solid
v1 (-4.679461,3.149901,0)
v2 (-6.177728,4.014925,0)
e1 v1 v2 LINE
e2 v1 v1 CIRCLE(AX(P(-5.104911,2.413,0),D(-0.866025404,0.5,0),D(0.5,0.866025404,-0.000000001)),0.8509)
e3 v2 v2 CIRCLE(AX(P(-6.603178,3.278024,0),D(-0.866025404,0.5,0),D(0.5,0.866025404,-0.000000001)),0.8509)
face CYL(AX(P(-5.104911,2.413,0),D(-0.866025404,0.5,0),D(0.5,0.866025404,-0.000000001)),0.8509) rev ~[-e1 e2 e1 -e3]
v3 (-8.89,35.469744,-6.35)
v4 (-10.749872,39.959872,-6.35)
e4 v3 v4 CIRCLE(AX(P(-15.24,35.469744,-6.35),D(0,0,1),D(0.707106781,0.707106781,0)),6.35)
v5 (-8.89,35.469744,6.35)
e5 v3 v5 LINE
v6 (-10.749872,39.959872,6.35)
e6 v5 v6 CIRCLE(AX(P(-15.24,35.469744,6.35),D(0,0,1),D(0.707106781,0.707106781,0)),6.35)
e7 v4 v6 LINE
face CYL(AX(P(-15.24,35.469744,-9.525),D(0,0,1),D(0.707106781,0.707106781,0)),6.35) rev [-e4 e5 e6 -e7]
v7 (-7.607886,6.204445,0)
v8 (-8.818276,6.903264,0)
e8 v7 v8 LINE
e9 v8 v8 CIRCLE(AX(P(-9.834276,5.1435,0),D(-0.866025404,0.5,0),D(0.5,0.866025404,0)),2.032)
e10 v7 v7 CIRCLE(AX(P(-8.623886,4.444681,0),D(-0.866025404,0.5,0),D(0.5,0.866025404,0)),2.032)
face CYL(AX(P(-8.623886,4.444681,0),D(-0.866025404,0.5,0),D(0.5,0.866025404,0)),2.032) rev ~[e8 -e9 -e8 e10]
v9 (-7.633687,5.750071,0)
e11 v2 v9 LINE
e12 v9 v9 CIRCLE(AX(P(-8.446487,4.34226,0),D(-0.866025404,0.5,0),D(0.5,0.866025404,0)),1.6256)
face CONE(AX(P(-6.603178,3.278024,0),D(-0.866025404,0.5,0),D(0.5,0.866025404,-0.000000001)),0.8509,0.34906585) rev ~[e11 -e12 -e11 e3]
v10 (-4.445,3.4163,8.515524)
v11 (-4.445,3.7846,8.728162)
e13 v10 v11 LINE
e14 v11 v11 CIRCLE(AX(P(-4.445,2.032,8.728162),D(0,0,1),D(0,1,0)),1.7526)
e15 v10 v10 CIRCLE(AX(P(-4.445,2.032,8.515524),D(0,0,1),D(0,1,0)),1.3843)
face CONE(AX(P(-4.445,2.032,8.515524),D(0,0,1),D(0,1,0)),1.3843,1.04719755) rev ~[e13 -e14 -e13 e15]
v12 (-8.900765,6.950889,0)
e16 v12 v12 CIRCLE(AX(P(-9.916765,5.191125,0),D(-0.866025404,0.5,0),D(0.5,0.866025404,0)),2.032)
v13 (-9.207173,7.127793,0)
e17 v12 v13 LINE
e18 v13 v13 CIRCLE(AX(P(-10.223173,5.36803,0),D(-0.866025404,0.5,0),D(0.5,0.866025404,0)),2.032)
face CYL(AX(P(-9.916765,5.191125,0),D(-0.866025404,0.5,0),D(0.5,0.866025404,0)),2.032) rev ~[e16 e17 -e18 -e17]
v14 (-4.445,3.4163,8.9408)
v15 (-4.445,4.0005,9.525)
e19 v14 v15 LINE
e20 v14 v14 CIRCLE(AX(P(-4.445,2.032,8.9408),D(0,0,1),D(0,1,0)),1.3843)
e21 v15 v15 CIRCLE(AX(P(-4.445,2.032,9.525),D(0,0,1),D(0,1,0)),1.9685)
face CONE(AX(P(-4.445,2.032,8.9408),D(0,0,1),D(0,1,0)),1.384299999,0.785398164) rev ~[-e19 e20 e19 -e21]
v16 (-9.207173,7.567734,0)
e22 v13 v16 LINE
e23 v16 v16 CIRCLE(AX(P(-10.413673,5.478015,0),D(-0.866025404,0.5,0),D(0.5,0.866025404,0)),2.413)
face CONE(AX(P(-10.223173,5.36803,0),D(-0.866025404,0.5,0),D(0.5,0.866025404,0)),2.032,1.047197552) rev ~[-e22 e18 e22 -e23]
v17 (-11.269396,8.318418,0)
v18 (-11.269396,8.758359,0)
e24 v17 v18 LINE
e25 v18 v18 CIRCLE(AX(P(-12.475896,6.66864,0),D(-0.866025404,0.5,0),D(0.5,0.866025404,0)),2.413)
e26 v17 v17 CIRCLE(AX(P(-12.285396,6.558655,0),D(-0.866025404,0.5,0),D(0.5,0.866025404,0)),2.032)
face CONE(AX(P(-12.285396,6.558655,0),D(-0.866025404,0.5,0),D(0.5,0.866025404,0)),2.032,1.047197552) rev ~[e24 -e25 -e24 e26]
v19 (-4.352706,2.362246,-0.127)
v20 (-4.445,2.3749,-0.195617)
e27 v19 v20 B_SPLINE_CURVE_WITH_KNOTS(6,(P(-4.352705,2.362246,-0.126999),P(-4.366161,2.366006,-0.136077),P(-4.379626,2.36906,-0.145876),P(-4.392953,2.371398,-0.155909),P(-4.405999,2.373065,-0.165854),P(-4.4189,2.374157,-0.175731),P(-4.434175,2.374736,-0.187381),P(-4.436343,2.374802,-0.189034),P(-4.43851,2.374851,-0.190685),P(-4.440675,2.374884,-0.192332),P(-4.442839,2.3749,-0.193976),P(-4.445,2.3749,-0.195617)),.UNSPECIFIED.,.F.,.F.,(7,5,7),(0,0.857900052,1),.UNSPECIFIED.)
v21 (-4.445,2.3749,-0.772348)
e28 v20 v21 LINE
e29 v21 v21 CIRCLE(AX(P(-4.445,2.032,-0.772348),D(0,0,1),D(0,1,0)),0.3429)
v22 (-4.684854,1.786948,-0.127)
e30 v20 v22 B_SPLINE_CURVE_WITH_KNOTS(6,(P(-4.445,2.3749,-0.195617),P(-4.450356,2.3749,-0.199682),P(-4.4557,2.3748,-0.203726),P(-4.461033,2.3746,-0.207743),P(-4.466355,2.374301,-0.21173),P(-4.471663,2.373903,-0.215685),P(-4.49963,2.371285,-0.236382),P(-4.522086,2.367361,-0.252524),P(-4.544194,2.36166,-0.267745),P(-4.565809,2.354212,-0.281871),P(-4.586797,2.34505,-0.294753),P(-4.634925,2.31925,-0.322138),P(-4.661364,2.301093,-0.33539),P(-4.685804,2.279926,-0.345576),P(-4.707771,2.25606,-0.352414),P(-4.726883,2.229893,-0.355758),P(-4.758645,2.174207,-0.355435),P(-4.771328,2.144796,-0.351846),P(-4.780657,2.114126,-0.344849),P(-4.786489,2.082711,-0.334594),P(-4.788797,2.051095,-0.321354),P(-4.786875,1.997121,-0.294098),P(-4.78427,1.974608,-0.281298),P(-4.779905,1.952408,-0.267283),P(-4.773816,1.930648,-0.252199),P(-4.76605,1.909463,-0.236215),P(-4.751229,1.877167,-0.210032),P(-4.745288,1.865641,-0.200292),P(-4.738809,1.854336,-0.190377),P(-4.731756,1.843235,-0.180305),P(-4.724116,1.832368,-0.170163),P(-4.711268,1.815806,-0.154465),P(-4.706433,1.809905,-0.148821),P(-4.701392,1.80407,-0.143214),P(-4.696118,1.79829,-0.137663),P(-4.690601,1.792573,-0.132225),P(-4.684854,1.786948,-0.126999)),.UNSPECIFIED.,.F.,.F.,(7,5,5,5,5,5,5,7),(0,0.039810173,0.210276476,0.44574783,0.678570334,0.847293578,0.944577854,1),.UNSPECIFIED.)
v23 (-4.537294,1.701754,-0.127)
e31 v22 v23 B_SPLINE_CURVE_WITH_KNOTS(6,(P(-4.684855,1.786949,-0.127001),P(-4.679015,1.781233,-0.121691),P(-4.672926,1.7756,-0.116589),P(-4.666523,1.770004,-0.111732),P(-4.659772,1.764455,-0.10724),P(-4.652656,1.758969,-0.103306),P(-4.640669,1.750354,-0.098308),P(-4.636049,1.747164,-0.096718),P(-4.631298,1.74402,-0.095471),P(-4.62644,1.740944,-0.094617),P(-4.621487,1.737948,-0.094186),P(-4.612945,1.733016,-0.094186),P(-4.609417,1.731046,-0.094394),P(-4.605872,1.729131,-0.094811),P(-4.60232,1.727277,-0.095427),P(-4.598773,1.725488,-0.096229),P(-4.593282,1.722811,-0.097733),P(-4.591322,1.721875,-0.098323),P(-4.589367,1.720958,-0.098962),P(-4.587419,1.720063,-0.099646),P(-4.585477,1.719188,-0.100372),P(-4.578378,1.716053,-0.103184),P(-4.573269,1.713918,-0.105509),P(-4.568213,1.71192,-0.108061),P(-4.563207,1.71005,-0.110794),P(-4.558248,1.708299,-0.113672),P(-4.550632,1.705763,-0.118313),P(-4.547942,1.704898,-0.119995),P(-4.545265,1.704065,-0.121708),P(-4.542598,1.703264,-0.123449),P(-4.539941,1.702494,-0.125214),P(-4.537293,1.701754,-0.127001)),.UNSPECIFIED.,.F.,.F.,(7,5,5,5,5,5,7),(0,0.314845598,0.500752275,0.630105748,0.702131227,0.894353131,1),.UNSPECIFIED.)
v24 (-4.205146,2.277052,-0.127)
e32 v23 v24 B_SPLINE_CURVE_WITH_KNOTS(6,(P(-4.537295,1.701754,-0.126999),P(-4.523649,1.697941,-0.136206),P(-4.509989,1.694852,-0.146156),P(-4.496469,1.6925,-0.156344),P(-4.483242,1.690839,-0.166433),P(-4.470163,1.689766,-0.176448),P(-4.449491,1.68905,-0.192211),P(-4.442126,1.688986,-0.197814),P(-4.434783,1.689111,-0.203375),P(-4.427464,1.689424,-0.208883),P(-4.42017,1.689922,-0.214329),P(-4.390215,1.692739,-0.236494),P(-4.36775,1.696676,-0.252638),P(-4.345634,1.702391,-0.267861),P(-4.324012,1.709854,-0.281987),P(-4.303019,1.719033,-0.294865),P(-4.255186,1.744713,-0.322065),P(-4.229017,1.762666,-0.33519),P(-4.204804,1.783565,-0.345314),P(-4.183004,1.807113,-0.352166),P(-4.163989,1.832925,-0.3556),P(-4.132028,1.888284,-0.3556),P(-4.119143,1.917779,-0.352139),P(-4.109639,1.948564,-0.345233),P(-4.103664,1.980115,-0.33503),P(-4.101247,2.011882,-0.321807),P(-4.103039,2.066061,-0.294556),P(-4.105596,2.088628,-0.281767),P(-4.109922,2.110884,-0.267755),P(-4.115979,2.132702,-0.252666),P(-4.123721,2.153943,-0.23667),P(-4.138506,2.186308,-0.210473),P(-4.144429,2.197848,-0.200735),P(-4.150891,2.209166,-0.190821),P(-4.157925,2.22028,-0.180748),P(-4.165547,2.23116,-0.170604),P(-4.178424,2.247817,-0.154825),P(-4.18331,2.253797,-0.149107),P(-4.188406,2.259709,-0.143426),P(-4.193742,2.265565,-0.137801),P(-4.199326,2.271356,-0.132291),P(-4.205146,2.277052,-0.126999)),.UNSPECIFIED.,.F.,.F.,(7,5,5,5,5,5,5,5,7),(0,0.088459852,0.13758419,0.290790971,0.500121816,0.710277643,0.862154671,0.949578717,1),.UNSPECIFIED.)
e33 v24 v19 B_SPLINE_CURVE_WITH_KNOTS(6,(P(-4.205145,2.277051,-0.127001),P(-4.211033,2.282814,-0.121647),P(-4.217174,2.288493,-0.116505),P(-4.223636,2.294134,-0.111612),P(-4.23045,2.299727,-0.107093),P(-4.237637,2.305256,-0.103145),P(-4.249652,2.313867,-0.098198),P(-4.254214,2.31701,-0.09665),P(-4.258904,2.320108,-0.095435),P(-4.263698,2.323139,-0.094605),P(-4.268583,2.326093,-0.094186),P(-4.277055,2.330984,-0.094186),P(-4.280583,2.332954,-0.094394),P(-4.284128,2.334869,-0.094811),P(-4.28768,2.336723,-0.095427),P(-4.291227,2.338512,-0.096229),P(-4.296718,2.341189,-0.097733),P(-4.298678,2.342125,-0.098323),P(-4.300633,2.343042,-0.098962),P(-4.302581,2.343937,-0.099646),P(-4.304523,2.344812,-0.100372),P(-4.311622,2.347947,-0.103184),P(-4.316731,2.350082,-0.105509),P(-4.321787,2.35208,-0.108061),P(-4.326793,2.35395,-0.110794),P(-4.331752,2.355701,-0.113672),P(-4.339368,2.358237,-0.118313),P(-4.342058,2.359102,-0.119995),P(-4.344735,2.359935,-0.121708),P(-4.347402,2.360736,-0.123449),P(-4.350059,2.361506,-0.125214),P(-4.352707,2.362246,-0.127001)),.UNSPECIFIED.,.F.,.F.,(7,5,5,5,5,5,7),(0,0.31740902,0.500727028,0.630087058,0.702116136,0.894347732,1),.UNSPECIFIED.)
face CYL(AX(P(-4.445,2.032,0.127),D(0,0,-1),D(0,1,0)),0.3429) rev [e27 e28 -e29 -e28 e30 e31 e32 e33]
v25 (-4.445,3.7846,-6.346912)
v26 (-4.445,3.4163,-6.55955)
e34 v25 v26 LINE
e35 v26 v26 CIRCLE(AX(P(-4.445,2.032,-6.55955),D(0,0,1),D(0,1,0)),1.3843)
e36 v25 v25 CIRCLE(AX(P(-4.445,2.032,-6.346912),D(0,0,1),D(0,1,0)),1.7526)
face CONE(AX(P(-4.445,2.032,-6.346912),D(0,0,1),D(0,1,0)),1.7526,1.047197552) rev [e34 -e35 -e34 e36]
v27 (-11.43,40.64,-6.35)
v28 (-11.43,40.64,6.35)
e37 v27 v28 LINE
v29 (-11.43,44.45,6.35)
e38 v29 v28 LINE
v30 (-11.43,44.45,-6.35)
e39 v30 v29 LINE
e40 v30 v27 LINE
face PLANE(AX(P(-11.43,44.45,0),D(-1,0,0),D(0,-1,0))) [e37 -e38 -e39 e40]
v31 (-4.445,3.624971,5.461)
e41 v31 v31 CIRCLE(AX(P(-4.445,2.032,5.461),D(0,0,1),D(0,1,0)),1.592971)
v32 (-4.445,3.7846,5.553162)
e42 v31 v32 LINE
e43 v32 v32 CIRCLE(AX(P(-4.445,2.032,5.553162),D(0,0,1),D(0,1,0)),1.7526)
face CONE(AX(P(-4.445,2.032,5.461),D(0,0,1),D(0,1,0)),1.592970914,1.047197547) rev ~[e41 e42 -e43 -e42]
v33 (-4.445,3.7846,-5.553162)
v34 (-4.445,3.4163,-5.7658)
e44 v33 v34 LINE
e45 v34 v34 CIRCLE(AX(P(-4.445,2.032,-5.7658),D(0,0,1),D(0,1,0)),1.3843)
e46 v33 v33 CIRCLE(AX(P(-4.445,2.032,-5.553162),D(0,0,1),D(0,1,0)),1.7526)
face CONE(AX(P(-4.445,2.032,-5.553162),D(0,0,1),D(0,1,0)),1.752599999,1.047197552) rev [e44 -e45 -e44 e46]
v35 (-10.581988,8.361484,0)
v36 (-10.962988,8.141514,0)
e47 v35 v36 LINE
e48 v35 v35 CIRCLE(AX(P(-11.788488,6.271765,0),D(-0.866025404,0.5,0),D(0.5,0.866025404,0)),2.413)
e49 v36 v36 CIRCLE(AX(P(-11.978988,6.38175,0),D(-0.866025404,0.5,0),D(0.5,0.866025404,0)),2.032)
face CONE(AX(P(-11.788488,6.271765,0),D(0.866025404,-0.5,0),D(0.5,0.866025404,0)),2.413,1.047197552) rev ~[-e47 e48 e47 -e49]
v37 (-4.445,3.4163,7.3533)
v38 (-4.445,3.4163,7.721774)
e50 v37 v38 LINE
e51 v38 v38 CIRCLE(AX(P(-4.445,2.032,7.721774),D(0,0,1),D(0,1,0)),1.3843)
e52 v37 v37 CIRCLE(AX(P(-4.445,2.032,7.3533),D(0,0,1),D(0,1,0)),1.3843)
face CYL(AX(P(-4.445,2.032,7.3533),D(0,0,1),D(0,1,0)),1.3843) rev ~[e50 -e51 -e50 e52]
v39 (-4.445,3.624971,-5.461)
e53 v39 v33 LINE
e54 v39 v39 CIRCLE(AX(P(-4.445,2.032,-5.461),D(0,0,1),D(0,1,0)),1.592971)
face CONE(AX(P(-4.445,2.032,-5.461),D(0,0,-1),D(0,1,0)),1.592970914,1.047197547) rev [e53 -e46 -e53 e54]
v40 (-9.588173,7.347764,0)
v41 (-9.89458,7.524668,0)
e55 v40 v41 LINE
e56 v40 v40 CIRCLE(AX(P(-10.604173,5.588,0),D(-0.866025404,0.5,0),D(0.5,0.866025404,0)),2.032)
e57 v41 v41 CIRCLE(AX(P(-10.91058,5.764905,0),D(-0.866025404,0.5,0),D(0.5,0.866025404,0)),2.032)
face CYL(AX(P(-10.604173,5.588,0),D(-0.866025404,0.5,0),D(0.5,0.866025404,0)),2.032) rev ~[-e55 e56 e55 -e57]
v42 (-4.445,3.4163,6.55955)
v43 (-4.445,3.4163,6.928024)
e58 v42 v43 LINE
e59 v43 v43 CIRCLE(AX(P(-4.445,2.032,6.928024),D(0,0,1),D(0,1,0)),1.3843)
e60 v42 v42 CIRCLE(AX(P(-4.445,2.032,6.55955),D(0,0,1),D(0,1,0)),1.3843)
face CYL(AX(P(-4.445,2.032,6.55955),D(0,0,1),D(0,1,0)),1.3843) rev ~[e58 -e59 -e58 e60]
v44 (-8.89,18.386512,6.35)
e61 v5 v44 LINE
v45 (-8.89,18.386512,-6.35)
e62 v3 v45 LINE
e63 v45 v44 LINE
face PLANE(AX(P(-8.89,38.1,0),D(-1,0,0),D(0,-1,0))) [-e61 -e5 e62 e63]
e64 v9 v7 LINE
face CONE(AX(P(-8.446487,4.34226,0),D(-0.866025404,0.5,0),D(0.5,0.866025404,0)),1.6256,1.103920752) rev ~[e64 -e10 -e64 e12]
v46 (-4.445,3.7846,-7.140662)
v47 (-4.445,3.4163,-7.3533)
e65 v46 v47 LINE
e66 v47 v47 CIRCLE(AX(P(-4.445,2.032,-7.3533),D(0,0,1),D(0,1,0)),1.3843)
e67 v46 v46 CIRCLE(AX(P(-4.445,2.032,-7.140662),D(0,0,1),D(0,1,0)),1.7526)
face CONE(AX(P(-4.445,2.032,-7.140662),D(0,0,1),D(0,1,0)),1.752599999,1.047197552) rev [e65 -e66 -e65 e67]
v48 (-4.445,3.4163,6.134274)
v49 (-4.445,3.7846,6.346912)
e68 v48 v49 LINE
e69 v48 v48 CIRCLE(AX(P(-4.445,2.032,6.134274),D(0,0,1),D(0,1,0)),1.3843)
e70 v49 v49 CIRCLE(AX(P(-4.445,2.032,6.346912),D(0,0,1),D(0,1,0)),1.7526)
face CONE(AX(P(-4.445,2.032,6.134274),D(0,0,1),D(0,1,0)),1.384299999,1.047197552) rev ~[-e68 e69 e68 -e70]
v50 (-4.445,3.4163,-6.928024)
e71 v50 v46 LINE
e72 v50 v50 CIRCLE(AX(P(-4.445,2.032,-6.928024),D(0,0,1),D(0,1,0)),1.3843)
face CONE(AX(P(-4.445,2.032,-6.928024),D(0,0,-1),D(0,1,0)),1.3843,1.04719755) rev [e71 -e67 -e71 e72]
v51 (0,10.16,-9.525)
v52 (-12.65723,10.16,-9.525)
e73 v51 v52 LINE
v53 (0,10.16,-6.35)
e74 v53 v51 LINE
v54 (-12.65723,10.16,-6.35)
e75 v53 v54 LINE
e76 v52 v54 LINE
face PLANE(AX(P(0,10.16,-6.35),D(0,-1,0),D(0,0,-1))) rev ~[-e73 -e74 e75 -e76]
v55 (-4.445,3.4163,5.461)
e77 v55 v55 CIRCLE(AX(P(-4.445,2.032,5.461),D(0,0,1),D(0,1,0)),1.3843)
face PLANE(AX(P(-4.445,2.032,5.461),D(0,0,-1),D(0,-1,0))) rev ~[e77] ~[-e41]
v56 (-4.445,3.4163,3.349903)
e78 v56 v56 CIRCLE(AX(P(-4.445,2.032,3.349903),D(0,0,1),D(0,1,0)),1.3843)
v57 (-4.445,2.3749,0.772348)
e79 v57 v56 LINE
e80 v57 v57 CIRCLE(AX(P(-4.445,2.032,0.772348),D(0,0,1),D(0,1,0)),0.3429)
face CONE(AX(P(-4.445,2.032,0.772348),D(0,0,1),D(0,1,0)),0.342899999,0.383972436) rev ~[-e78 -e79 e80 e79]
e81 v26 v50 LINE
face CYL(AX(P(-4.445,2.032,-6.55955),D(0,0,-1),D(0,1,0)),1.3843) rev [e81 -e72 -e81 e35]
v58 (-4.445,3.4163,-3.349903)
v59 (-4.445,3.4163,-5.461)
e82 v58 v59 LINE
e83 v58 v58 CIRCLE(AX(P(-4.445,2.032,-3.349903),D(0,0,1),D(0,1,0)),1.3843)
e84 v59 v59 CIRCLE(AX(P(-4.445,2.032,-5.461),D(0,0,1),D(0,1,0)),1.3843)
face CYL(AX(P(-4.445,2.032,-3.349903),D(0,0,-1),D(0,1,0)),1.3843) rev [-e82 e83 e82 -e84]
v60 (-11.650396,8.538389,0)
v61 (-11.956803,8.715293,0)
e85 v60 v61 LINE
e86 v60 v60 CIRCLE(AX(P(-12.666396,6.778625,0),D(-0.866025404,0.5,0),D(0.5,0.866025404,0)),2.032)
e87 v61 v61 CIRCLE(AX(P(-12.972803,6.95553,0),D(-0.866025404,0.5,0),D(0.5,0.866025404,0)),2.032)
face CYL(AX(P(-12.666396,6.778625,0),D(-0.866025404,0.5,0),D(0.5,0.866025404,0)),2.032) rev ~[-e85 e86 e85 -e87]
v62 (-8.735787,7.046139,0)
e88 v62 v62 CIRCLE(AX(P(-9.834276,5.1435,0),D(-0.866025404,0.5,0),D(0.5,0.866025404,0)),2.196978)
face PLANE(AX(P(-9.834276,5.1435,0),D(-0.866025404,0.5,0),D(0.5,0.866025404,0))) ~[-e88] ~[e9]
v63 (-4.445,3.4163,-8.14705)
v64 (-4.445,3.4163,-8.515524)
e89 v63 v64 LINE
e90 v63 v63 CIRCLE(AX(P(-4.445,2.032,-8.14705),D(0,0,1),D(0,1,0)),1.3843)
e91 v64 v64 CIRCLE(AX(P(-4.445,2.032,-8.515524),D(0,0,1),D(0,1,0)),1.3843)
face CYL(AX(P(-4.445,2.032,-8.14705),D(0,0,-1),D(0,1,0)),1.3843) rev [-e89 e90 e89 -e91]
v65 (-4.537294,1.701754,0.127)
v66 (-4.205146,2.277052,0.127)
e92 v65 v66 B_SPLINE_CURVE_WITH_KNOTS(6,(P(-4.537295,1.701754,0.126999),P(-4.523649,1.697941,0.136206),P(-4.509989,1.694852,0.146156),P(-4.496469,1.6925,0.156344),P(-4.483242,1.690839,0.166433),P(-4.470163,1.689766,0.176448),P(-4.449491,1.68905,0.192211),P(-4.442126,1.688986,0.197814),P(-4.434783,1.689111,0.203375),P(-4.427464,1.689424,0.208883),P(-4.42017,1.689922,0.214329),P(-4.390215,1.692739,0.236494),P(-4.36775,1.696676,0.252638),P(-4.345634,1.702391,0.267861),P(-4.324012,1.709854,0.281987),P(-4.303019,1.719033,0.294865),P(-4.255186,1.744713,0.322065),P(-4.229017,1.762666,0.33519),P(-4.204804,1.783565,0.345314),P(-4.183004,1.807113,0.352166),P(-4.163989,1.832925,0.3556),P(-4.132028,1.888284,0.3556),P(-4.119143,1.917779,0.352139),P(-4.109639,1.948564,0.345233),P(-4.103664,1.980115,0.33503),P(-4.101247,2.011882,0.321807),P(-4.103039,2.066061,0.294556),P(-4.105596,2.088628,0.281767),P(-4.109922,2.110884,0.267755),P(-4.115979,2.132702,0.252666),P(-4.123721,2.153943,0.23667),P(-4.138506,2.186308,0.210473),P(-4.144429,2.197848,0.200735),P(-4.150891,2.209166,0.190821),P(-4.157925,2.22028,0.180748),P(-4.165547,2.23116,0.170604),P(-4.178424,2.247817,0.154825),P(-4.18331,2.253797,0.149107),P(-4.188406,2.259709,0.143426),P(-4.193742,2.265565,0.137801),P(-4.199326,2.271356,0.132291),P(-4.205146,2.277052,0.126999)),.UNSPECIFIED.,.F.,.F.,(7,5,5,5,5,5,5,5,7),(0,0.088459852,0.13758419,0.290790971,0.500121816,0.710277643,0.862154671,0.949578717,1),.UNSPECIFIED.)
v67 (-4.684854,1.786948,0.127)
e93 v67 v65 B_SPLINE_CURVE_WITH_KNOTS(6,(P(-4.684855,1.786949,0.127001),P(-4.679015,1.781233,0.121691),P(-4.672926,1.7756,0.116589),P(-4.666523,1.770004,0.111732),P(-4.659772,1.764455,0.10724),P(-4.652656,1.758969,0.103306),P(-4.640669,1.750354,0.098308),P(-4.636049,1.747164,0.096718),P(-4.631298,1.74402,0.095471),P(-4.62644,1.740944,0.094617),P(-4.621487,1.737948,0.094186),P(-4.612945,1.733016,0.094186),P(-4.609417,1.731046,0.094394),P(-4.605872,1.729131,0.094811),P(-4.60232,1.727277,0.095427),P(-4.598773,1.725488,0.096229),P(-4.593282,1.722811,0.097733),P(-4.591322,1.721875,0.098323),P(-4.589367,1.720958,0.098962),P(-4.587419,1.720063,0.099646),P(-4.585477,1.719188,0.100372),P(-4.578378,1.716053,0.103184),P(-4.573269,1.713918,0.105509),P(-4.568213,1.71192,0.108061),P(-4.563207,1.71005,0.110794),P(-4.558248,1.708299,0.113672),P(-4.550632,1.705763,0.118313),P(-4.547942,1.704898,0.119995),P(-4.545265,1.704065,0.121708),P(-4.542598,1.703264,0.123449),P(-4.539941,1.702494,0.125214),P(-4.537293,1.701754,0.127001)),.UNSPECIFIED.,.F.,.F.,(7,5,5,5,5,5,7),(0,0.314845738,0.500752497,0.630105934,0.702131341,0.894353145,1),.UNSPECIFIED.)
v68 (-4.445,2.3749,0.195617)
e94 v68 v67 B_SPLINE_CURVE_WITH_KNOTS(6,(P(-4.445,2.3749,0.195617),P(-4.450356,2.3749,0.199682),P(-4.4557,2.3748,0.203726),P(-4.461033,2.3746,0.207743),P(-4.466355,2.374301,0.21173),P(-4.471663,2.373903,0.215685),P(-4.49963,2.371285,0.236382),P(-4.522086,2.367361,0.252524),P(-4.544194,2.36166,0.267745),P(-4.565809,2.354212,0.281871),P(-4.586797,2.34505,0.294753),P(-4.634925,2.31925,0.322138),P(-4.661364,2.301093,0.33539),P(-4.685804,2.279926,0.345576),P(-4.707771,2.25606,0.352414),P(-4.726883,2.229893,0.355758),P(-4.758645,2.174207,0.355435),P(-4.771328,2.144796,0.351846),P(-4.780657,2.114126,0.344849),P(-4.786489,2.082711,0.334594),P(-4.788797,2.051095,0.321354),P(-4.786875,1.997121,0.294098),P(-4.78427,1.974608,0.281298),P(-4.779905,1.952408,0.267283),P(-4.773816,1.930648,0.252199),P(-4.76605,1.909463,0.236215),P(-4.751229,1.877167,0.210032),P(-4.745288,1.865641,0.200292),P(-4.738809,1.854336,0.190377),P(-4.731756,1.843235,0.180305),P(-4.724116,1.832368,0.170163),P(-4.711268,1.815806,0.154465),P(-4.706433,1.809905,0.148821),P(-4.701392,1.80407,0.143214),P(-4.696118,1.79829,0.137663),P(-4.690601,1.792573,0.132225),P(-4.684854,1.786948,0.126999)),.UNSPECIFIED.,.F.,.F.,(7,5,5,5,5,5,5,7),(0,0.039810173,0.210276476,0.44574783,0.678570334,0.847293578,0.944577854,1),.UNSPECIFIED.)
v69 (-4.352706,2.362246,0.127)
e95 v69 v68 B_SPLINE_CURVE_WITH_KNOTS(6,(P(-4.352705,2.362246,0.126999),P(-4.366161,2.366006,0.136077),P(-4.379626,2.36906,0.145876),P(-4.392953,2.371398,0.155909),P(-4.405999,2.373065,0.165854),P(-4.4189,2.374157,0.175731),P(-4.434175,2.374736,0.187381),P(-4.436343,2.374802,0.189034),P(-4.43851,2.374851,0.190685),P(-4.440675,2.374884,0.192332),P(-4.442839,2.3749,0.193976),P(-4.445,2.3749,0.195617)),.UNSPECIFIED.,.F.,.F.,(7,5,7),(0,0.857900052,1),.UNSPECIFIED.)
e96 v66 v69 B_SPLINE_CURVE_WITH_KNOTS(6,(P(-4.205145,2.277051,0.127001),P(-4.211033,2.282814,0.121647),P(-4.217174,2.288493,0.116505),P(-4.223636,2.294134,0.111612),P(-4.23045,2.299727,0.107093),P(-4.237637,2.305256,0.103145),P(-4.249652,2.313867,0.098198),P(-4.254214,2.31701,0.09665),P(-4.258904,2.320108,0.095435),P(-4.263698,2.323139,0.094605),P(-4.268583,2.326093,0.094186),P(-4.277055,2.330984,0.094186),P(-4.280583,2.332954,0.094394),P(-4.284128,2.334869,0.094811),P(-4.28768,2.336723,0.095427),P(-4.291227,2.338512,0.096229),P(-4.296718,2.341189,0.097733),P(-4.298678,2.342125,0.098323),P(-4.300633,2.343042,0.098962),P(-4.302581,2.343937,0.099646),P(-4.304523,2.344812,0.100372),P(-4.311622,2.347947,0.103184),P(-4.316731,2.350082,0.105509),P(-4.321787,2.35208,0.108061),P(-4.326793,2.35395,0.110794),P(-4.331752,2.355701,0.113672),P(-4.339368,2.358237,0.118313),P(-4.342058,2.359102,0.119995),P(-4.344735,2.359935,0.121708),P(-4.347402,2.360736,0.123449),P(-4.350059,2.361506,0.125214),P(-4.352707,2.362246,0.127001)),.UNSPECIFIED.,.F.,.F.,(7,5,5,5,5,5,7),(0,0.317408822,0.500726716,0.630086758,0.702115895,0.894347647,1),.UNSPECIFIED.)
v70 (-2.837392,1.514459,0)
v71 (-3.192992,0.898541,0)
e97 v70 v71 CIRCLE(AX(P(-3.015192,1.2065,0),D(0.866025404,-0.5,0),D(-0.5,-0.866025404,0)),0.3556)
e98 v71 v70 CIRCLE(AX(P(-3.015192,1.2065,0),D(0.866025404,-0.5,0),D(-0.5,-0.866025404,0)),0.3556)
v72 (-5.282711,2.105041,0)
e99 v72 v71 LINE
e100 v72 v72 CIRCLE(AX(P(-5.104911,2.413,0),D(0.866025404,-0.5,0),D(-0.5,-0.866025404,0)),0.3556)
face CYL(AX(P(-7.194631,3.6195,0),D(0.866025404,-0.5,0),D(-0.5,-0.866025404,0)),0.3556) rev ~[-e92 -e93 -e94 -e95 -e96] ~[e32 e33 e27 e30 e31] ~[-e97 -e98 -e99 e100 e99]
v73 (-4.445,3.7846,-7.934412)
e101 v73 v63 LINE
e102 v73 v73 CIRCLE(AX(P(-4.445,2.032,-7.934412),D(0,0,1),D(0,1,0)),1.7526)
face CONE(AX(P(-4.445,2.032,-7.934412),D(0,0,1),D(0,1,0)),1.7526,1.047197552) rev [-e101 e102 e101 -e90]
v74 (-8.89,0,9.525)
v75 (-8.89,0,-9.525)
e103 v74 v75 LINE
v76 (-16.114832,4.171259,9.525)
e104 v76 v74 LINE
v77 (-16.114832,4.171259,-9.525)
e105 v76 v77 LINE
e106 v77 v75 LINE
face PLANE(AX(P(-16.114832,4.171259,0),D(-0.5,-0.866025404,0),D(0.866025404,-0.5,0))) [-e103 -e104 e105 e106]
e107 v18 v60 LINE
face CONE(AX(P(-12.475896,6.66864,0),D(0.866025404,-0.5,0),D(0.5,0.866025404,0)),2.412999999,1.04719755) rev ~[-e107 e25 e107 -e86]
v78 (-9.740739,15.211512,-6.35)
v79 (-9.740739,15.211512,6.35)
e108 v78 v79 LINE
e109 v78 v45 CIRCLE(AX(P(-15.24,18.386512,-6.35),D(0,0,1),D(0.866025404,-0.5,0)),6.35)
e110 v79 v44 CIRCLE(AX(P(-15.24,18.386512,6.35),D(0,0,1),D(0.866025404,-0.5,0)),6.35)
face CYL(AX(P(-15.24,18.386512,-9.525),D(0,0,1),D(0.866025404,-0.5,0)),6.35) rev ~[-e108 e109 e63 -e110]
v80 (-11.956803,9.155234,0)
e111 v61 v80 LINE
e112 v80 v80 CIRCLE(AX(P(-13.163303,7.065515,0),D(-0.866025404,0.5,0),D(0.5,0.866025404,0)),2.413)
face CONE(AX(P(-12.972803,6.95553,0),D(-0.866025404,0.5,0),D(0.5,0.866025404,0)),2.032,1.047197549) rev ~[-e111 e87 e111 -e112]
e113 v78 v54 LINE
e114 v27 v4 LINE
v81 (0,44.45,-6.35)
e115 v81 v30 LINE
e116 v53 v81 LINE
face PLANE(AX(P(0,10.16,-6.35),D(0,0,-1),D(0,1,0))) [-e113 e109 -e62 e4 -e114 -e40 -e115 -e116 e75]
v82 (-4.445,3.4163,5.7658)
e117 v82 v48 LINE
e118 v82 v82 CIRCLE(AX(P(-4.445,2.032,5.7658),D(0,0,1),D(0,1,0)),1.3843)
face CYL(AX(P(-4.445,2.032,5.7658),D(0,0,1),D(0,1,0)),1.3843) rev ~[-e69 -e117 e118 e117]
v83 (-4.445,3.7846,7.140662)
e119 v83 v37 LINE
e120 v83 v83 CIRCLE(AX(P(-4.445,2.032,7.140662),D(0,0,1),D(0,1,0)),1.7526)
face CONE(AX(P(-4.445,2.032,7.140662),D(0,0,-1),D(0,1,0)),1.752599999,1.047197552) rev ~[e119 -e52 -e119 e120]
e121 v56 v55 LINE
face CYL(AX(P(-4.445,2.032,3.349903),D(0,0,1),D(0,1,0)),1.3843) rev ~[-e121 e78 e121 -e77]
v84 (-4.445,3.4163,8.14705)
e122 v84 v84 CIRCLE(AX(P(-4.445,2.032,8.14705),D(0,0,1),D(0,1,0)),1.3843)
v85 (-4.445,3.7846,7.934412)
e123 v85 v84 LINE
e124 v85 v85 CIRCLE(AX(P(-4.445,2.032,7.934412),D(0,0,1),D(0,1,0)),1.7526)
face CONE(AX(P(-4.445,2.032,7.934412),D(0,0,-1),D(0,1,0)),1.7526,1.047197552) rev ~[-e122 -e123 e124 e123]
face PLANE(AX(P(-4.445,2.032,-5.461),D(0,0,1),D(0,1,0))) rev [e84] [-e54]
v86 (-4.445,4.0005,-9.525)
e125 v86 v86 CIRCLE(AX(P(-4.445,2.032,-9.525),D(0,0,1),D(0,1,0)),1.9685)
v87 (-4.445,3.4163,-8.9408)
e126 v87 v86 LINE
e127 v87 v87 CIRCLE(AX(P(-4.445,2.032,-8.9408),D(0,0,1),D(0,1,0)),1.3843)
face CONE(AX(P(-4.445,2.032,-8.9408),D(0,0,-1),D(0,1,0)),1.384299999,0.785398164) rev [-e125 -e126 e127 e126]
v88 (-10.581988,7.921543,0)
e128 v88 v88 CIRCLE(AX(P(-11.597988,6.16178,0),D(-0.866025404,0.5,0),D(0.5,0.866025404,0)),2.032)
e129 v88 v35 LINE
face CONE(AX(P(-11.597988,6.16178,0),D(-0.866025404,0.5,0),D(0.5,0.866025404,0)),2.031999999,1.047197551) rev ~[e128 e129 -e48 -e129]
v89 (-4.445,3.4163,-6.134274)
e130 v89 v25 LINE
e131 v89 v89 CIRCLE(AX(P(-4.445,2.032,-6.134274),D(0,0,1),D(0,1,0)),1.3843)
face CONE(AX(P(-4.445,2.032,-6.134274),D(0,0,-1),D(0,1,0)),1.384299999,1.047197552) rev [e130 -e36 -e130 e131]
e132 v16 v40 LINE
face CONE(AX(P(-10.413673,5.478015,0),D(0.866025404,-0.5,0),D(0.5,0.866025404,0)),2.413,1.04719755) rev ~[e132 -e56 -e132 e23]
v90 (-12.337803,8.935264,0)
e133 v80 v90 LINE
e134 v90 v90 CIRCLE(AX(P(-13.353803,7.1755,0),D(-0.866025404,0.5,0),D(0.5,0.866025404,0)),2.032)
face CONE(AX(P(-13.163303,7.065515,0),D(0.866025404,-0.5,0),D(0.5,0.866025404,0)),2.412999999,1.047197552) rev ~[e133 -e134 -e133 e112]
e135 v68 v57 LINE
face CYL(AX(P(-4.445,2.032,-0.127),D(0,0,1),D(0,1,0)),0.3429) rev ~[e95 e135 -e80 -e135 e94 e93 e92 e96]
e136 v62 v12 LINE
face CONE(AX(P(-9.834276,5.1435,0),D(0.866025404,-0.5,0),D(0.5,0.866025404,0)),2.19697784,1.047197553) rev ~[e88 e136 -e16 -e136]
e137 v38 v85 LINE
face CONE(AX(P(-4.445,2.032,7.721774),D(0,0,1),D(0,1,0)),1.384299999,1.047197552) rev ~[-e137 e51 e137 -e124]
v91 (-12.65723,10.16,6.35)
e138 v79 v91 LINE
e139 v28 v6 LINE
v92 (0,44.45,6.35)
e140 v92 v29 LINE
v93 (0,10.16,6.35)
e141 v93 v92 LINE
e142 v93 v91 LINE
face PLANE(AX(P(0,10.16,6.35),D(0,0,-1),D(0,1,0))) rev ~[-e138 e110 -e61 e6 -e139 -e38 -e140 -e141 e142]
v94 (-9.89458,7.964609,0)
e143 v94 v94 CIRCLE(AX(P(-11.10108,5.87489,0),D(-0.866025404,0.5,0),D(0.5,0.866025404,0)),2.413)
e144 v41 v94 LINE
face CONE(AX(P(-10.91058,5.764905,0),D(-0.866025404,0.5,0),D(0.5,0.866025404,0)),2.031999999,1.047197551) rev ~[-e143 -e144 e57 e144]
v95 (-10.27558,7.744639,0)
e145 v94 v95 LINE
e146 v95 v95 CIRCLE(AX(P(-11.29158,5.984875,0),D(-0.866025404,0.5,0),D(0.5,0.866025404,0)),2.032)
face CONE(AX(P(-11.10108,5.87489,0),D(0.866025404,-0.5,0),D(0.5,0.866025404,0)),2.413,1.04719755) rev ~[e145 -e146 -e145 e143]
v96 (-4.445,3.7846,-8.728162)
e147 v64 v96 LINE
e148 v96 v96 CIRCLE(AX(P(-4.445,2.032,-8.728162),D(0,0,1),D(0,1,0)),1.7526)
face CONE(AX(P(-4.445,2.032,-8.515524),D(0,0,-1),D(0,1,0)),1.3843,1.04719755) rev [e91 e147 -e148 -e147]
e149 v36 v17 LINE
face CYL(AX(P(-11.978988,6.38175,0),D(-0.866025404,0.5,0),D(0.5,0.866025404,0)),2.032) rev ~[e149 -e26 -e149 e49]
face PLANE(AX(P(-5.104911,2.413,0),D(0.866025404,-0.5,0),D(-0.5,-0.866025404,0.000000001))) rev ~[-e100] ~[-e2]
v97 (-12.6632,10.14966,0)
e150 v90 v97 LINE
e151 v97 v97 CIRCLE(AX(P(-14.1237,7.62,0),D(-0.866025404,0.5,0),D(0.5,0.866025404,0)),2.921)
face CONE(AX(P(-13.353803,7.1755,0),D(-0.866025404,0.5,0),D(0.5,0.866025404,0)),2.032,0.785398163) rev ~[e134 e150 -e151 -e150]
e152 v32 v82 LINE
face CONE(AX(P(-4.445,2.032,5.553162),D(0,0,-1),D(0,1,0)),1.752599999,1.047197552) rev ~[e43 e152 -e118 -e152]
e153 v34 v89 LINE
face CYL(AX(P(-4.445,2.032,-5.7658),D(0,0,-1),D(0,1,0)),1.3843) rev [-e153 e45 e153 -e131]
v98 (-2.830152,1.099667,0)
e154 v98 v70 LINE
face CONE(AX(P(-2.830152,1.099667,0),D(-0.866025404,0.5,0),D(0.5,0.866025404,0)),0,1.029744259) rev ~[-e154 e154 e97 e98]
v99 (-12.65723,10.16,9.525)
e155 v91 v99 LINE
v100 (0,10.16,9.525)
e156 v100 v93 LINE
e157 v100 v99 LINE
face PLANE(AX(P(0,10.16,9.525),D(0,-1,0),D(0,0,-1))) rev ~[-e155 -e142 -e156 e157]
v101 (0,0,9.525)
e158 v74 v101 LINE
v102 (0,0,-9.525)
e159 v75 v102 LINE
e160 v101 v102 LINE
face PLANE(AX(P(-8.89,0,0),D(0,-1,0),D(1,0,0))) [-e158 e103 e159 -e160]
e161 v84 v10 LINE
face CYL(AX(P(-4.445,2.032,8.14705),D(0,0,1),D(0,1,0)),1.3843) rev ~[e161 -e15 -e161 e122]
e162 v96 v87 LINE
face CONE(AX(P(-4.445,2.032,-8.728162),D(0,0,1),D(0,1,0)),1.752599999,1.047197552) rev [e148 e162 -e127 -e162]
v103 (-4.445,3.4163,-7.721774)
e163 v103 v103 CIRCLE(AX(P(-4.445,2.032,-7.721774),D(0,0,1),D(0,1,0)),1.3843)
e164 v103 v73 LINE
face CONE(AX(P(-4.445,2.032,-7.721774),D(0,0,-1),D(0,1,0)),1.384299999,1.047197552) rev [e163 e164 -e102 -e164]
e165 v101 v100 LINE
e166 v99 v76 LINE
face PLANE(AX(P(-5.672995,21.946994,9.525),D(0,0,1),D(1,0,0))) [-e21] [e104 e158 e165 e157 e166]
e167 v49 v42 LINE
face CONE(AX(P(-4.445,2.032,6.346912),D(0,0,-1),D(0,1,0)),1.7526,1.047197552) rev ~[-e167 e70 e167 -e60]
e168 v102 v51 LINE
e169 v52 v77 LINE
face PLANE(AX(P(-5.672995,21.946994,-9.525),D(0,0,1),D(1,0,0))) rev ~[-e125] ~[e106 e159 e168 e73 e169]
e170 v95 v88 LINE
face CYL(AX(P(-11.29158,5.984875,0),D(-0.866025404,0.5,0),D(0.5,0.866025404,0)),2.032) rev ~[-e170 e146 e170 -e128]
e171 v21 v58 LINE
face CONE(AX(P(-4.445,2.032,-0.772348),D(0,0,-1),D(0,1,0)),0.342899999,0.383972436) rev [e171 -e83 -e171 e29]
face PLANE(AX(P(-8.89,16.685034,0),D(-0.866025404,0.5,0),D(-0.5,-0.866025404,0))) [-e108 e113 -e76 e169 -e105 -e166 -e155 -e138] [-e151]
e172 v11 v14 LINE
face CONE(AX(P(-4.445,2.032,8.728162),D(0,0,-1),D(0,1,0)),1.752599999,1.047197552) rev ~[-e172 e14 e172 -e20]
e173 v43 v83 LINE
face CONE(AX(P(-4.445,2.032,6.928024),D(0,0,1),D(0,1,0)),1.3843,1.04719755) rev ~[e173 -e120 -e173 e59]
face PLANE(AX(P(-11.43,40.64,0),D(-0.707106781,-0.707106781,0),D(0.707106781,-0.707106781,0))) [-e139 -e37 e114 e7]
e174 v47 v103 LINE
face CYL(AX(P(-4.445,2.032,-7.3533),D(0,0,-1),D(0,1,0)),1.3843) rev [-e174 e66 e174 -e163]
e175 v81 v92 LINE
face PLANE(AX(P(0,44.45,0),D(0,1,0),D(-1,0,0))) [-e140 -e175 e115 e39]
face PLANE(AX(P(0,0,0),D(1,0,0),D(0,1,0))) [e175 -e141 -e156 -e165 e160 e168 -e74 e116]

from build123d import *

# Parameters (mm, degrees)
BOSS_EXTRUDE1_DEPTH             = 9.525
F_70_0_028_DIAMETER_HOLE1_D     = 0.7112
F_70_0_028_DIAMETER_HOLE1_DEPTH = 2.413
F_70_0_028_DIAMETER_HOLE1_TIP   = 0.213666036
FILLET5_R                       = 6.35
SKETCH90_W                      = 3.175
SKETCH90_H                      = 34.29
CUT_EXTRUDE5_DEPTH              = 49.230860727


with BuildPart() as part:
    # Sketch3 → Boss-Extrude1 (new, symmetric)
    with BuildSketch(Plane.XY):
        Polygon((0, 0), (0, 44.45), (-8.89, 44.45), (-11.43, 44.45), (-11.43, 40.64), (-8.89, 38.1), (-8.89, 16.68503416), (-16.114831723, 4.17125854), (-8.89, 0), align=None)
    extrude(amount=BOSS_EXTRUDE1_DEPTH, both=True)

    # Sketch5 → UPCHURCH 6-32 CONE (revolve, cut)
    with BuildSketch(Plane(origin=(-4.445, 25.259183771, 8.769011984), x_dir=(0, -0.8515022287907943, 0.52435098394521), z_dir=(-1, 0, 0))):
        Polygon((15.292959977, -18.808573968), (15.757749291, -16.067720643), (16.864704876, -14.270117175), (16.687021127, -14.160700376), (16.599421786, -13.998522648), (17.024527056, -14.010579296), (17.217736651, -13.696823041), (17.015625379, -13.322642754), (17.440730649, -13.334699402), (17.633940244, -13.020943147), (17.431828973, -12.64676286), (17.856934243, -12.658819508), (18.050143838, -12.345063253), (17.848032566, -11.970882966), (18.273137836, -11.982939614), (18.466347431, -11.669183359), (18.26423616, -11.295003072), (18.68934143, -11.30705972), (18.498219672, -10.503286273), (20.17440181, -11.535471185), (15.113366113, -19.754170697), (14.821385998, -19.574370744), align=None)
    upchurch_6_32_cone = revolve(axis=Axis((-4.445, 2.032, -2.119740469), (0, 0, 1)), mode=Mode.SUBTRACT)

    # Mirror1: UPCHURCH 6-32 CONE across plane
    add(upchurch_6_32_cone.mirror(Plane.XY), mode=Mode.SUBTRACT)

    # Sketch52 → UPCHURCH 10-32 CONE (revolve, cut)
    with BuildSketch(Plane(origin=(-19.421374868, 2.468387248, 20.886307367), x_dir=(-0.22324939894345092, 0.4655392731409244, -0.8564069657790084), z_dir=(0.47332472697656286, 0.8198224756020795, 0.32226512583622835)), mode=Mode.PRIVATE) as upchurch_10_32_cone_sk:
        Polygon((13.895467161, -20.280398331), (14.632657074, -18.71527204), (14.83876907, -16.459597929), (14.558395769, -16.101111936), (15.153942241, -14.836708527), (15.004691459, -14.766409937), (15.194529151, -14.750538548), (15.345290492, -14.430457474), (15.094342029, -14.069108794), (15.532753397, -14.03245539), (15.683514739, -13.712374317), (15.432566276, -13.351025636), (15.870977644, -13.314372232), (16.021738986, -12.994291159), (15.770790523, -12.632942478), (16.209201891, -12.596289075), (16.359963233, -12.276208001), (16.10901477, -11.914859321), (16.547426138, -11.878205917), (16.698187479, -11.558124844), (16.447239017, -11.196776163), (16.885650385, -11.16012276), (16.460208405, -9.977058466), (19.102754425, -11.221723695), (14.665252306, -20.642974723), align=None)
    revolve(upchurch_10_32_cone_sk.sketch.rotate(Axis((-5.104911358, 2.413, 0), (-0.86602540378444, 0.49999999999999756, 0)), 108.799965538), axis=Axis((-5.104911358, 2.413, 0), (-0.86602540378444, 0.49999999999999756, 0)), mode=Mode.SUBTRACT)

    # #70 (0.028) Diameter Hole1
    with Locations(Plane(origin=(-4.873543168, 2.81374146, 0), x_dir=(0.49999999999999745, 0.86602540378444, 0), z_dir=(-0.8660254037844402, 0.4999999999999975, 0))):
        with Locations((-0.46273638, 0)):
            Hole(F_70_0_028_DIAMETER_HOLE1_D / 2, depth=F_70_0_028_DIAMETER_HOLE1_DEPTH)
            with Locations((0, 0, -(F_70_0_028_DIAMETER_HOLE1_DEPTH + F_70_0_028_DIAMETER_HOLE1_TIP / 2))):  # 118° drill point
                Cone(0, F_70_0_028_DIAMETER_HOLE1_D / 2, F_70_0_028_DIAMETER_HOLE1_TIP, mode=Mode.SUBTRACT)

    # Fillet5
    fillet5_edges = [part.edges().sort_by_distance(p)[0] for p in [
        (-8.89, 16.68503416, 0),
        (-8.89, 38.1, 0),
    ]]
    fillet(fillet5_edges, radius=FILLET5_R)

    # Sketch90 → Cut-Extrude5 (cut, through all)
    with BuildSketch(Plane(origin=(0, 0, 0), x_dir=(0, 0, -1), z_dir=(1, 0, 0))):
        with Locations((-7.9375, 27.305)):
            Rectangle(SKETCH90_W, SKETCH90_H)
        with Locations((7.9375, 27.305)):
            Rectangle(SKETCH90_W, SKETCH90_H)
    extrude(amount=-CUT_EXTRUDE5_DEPTH, mode=Mode.SUBTRACT)


solid = part.part
